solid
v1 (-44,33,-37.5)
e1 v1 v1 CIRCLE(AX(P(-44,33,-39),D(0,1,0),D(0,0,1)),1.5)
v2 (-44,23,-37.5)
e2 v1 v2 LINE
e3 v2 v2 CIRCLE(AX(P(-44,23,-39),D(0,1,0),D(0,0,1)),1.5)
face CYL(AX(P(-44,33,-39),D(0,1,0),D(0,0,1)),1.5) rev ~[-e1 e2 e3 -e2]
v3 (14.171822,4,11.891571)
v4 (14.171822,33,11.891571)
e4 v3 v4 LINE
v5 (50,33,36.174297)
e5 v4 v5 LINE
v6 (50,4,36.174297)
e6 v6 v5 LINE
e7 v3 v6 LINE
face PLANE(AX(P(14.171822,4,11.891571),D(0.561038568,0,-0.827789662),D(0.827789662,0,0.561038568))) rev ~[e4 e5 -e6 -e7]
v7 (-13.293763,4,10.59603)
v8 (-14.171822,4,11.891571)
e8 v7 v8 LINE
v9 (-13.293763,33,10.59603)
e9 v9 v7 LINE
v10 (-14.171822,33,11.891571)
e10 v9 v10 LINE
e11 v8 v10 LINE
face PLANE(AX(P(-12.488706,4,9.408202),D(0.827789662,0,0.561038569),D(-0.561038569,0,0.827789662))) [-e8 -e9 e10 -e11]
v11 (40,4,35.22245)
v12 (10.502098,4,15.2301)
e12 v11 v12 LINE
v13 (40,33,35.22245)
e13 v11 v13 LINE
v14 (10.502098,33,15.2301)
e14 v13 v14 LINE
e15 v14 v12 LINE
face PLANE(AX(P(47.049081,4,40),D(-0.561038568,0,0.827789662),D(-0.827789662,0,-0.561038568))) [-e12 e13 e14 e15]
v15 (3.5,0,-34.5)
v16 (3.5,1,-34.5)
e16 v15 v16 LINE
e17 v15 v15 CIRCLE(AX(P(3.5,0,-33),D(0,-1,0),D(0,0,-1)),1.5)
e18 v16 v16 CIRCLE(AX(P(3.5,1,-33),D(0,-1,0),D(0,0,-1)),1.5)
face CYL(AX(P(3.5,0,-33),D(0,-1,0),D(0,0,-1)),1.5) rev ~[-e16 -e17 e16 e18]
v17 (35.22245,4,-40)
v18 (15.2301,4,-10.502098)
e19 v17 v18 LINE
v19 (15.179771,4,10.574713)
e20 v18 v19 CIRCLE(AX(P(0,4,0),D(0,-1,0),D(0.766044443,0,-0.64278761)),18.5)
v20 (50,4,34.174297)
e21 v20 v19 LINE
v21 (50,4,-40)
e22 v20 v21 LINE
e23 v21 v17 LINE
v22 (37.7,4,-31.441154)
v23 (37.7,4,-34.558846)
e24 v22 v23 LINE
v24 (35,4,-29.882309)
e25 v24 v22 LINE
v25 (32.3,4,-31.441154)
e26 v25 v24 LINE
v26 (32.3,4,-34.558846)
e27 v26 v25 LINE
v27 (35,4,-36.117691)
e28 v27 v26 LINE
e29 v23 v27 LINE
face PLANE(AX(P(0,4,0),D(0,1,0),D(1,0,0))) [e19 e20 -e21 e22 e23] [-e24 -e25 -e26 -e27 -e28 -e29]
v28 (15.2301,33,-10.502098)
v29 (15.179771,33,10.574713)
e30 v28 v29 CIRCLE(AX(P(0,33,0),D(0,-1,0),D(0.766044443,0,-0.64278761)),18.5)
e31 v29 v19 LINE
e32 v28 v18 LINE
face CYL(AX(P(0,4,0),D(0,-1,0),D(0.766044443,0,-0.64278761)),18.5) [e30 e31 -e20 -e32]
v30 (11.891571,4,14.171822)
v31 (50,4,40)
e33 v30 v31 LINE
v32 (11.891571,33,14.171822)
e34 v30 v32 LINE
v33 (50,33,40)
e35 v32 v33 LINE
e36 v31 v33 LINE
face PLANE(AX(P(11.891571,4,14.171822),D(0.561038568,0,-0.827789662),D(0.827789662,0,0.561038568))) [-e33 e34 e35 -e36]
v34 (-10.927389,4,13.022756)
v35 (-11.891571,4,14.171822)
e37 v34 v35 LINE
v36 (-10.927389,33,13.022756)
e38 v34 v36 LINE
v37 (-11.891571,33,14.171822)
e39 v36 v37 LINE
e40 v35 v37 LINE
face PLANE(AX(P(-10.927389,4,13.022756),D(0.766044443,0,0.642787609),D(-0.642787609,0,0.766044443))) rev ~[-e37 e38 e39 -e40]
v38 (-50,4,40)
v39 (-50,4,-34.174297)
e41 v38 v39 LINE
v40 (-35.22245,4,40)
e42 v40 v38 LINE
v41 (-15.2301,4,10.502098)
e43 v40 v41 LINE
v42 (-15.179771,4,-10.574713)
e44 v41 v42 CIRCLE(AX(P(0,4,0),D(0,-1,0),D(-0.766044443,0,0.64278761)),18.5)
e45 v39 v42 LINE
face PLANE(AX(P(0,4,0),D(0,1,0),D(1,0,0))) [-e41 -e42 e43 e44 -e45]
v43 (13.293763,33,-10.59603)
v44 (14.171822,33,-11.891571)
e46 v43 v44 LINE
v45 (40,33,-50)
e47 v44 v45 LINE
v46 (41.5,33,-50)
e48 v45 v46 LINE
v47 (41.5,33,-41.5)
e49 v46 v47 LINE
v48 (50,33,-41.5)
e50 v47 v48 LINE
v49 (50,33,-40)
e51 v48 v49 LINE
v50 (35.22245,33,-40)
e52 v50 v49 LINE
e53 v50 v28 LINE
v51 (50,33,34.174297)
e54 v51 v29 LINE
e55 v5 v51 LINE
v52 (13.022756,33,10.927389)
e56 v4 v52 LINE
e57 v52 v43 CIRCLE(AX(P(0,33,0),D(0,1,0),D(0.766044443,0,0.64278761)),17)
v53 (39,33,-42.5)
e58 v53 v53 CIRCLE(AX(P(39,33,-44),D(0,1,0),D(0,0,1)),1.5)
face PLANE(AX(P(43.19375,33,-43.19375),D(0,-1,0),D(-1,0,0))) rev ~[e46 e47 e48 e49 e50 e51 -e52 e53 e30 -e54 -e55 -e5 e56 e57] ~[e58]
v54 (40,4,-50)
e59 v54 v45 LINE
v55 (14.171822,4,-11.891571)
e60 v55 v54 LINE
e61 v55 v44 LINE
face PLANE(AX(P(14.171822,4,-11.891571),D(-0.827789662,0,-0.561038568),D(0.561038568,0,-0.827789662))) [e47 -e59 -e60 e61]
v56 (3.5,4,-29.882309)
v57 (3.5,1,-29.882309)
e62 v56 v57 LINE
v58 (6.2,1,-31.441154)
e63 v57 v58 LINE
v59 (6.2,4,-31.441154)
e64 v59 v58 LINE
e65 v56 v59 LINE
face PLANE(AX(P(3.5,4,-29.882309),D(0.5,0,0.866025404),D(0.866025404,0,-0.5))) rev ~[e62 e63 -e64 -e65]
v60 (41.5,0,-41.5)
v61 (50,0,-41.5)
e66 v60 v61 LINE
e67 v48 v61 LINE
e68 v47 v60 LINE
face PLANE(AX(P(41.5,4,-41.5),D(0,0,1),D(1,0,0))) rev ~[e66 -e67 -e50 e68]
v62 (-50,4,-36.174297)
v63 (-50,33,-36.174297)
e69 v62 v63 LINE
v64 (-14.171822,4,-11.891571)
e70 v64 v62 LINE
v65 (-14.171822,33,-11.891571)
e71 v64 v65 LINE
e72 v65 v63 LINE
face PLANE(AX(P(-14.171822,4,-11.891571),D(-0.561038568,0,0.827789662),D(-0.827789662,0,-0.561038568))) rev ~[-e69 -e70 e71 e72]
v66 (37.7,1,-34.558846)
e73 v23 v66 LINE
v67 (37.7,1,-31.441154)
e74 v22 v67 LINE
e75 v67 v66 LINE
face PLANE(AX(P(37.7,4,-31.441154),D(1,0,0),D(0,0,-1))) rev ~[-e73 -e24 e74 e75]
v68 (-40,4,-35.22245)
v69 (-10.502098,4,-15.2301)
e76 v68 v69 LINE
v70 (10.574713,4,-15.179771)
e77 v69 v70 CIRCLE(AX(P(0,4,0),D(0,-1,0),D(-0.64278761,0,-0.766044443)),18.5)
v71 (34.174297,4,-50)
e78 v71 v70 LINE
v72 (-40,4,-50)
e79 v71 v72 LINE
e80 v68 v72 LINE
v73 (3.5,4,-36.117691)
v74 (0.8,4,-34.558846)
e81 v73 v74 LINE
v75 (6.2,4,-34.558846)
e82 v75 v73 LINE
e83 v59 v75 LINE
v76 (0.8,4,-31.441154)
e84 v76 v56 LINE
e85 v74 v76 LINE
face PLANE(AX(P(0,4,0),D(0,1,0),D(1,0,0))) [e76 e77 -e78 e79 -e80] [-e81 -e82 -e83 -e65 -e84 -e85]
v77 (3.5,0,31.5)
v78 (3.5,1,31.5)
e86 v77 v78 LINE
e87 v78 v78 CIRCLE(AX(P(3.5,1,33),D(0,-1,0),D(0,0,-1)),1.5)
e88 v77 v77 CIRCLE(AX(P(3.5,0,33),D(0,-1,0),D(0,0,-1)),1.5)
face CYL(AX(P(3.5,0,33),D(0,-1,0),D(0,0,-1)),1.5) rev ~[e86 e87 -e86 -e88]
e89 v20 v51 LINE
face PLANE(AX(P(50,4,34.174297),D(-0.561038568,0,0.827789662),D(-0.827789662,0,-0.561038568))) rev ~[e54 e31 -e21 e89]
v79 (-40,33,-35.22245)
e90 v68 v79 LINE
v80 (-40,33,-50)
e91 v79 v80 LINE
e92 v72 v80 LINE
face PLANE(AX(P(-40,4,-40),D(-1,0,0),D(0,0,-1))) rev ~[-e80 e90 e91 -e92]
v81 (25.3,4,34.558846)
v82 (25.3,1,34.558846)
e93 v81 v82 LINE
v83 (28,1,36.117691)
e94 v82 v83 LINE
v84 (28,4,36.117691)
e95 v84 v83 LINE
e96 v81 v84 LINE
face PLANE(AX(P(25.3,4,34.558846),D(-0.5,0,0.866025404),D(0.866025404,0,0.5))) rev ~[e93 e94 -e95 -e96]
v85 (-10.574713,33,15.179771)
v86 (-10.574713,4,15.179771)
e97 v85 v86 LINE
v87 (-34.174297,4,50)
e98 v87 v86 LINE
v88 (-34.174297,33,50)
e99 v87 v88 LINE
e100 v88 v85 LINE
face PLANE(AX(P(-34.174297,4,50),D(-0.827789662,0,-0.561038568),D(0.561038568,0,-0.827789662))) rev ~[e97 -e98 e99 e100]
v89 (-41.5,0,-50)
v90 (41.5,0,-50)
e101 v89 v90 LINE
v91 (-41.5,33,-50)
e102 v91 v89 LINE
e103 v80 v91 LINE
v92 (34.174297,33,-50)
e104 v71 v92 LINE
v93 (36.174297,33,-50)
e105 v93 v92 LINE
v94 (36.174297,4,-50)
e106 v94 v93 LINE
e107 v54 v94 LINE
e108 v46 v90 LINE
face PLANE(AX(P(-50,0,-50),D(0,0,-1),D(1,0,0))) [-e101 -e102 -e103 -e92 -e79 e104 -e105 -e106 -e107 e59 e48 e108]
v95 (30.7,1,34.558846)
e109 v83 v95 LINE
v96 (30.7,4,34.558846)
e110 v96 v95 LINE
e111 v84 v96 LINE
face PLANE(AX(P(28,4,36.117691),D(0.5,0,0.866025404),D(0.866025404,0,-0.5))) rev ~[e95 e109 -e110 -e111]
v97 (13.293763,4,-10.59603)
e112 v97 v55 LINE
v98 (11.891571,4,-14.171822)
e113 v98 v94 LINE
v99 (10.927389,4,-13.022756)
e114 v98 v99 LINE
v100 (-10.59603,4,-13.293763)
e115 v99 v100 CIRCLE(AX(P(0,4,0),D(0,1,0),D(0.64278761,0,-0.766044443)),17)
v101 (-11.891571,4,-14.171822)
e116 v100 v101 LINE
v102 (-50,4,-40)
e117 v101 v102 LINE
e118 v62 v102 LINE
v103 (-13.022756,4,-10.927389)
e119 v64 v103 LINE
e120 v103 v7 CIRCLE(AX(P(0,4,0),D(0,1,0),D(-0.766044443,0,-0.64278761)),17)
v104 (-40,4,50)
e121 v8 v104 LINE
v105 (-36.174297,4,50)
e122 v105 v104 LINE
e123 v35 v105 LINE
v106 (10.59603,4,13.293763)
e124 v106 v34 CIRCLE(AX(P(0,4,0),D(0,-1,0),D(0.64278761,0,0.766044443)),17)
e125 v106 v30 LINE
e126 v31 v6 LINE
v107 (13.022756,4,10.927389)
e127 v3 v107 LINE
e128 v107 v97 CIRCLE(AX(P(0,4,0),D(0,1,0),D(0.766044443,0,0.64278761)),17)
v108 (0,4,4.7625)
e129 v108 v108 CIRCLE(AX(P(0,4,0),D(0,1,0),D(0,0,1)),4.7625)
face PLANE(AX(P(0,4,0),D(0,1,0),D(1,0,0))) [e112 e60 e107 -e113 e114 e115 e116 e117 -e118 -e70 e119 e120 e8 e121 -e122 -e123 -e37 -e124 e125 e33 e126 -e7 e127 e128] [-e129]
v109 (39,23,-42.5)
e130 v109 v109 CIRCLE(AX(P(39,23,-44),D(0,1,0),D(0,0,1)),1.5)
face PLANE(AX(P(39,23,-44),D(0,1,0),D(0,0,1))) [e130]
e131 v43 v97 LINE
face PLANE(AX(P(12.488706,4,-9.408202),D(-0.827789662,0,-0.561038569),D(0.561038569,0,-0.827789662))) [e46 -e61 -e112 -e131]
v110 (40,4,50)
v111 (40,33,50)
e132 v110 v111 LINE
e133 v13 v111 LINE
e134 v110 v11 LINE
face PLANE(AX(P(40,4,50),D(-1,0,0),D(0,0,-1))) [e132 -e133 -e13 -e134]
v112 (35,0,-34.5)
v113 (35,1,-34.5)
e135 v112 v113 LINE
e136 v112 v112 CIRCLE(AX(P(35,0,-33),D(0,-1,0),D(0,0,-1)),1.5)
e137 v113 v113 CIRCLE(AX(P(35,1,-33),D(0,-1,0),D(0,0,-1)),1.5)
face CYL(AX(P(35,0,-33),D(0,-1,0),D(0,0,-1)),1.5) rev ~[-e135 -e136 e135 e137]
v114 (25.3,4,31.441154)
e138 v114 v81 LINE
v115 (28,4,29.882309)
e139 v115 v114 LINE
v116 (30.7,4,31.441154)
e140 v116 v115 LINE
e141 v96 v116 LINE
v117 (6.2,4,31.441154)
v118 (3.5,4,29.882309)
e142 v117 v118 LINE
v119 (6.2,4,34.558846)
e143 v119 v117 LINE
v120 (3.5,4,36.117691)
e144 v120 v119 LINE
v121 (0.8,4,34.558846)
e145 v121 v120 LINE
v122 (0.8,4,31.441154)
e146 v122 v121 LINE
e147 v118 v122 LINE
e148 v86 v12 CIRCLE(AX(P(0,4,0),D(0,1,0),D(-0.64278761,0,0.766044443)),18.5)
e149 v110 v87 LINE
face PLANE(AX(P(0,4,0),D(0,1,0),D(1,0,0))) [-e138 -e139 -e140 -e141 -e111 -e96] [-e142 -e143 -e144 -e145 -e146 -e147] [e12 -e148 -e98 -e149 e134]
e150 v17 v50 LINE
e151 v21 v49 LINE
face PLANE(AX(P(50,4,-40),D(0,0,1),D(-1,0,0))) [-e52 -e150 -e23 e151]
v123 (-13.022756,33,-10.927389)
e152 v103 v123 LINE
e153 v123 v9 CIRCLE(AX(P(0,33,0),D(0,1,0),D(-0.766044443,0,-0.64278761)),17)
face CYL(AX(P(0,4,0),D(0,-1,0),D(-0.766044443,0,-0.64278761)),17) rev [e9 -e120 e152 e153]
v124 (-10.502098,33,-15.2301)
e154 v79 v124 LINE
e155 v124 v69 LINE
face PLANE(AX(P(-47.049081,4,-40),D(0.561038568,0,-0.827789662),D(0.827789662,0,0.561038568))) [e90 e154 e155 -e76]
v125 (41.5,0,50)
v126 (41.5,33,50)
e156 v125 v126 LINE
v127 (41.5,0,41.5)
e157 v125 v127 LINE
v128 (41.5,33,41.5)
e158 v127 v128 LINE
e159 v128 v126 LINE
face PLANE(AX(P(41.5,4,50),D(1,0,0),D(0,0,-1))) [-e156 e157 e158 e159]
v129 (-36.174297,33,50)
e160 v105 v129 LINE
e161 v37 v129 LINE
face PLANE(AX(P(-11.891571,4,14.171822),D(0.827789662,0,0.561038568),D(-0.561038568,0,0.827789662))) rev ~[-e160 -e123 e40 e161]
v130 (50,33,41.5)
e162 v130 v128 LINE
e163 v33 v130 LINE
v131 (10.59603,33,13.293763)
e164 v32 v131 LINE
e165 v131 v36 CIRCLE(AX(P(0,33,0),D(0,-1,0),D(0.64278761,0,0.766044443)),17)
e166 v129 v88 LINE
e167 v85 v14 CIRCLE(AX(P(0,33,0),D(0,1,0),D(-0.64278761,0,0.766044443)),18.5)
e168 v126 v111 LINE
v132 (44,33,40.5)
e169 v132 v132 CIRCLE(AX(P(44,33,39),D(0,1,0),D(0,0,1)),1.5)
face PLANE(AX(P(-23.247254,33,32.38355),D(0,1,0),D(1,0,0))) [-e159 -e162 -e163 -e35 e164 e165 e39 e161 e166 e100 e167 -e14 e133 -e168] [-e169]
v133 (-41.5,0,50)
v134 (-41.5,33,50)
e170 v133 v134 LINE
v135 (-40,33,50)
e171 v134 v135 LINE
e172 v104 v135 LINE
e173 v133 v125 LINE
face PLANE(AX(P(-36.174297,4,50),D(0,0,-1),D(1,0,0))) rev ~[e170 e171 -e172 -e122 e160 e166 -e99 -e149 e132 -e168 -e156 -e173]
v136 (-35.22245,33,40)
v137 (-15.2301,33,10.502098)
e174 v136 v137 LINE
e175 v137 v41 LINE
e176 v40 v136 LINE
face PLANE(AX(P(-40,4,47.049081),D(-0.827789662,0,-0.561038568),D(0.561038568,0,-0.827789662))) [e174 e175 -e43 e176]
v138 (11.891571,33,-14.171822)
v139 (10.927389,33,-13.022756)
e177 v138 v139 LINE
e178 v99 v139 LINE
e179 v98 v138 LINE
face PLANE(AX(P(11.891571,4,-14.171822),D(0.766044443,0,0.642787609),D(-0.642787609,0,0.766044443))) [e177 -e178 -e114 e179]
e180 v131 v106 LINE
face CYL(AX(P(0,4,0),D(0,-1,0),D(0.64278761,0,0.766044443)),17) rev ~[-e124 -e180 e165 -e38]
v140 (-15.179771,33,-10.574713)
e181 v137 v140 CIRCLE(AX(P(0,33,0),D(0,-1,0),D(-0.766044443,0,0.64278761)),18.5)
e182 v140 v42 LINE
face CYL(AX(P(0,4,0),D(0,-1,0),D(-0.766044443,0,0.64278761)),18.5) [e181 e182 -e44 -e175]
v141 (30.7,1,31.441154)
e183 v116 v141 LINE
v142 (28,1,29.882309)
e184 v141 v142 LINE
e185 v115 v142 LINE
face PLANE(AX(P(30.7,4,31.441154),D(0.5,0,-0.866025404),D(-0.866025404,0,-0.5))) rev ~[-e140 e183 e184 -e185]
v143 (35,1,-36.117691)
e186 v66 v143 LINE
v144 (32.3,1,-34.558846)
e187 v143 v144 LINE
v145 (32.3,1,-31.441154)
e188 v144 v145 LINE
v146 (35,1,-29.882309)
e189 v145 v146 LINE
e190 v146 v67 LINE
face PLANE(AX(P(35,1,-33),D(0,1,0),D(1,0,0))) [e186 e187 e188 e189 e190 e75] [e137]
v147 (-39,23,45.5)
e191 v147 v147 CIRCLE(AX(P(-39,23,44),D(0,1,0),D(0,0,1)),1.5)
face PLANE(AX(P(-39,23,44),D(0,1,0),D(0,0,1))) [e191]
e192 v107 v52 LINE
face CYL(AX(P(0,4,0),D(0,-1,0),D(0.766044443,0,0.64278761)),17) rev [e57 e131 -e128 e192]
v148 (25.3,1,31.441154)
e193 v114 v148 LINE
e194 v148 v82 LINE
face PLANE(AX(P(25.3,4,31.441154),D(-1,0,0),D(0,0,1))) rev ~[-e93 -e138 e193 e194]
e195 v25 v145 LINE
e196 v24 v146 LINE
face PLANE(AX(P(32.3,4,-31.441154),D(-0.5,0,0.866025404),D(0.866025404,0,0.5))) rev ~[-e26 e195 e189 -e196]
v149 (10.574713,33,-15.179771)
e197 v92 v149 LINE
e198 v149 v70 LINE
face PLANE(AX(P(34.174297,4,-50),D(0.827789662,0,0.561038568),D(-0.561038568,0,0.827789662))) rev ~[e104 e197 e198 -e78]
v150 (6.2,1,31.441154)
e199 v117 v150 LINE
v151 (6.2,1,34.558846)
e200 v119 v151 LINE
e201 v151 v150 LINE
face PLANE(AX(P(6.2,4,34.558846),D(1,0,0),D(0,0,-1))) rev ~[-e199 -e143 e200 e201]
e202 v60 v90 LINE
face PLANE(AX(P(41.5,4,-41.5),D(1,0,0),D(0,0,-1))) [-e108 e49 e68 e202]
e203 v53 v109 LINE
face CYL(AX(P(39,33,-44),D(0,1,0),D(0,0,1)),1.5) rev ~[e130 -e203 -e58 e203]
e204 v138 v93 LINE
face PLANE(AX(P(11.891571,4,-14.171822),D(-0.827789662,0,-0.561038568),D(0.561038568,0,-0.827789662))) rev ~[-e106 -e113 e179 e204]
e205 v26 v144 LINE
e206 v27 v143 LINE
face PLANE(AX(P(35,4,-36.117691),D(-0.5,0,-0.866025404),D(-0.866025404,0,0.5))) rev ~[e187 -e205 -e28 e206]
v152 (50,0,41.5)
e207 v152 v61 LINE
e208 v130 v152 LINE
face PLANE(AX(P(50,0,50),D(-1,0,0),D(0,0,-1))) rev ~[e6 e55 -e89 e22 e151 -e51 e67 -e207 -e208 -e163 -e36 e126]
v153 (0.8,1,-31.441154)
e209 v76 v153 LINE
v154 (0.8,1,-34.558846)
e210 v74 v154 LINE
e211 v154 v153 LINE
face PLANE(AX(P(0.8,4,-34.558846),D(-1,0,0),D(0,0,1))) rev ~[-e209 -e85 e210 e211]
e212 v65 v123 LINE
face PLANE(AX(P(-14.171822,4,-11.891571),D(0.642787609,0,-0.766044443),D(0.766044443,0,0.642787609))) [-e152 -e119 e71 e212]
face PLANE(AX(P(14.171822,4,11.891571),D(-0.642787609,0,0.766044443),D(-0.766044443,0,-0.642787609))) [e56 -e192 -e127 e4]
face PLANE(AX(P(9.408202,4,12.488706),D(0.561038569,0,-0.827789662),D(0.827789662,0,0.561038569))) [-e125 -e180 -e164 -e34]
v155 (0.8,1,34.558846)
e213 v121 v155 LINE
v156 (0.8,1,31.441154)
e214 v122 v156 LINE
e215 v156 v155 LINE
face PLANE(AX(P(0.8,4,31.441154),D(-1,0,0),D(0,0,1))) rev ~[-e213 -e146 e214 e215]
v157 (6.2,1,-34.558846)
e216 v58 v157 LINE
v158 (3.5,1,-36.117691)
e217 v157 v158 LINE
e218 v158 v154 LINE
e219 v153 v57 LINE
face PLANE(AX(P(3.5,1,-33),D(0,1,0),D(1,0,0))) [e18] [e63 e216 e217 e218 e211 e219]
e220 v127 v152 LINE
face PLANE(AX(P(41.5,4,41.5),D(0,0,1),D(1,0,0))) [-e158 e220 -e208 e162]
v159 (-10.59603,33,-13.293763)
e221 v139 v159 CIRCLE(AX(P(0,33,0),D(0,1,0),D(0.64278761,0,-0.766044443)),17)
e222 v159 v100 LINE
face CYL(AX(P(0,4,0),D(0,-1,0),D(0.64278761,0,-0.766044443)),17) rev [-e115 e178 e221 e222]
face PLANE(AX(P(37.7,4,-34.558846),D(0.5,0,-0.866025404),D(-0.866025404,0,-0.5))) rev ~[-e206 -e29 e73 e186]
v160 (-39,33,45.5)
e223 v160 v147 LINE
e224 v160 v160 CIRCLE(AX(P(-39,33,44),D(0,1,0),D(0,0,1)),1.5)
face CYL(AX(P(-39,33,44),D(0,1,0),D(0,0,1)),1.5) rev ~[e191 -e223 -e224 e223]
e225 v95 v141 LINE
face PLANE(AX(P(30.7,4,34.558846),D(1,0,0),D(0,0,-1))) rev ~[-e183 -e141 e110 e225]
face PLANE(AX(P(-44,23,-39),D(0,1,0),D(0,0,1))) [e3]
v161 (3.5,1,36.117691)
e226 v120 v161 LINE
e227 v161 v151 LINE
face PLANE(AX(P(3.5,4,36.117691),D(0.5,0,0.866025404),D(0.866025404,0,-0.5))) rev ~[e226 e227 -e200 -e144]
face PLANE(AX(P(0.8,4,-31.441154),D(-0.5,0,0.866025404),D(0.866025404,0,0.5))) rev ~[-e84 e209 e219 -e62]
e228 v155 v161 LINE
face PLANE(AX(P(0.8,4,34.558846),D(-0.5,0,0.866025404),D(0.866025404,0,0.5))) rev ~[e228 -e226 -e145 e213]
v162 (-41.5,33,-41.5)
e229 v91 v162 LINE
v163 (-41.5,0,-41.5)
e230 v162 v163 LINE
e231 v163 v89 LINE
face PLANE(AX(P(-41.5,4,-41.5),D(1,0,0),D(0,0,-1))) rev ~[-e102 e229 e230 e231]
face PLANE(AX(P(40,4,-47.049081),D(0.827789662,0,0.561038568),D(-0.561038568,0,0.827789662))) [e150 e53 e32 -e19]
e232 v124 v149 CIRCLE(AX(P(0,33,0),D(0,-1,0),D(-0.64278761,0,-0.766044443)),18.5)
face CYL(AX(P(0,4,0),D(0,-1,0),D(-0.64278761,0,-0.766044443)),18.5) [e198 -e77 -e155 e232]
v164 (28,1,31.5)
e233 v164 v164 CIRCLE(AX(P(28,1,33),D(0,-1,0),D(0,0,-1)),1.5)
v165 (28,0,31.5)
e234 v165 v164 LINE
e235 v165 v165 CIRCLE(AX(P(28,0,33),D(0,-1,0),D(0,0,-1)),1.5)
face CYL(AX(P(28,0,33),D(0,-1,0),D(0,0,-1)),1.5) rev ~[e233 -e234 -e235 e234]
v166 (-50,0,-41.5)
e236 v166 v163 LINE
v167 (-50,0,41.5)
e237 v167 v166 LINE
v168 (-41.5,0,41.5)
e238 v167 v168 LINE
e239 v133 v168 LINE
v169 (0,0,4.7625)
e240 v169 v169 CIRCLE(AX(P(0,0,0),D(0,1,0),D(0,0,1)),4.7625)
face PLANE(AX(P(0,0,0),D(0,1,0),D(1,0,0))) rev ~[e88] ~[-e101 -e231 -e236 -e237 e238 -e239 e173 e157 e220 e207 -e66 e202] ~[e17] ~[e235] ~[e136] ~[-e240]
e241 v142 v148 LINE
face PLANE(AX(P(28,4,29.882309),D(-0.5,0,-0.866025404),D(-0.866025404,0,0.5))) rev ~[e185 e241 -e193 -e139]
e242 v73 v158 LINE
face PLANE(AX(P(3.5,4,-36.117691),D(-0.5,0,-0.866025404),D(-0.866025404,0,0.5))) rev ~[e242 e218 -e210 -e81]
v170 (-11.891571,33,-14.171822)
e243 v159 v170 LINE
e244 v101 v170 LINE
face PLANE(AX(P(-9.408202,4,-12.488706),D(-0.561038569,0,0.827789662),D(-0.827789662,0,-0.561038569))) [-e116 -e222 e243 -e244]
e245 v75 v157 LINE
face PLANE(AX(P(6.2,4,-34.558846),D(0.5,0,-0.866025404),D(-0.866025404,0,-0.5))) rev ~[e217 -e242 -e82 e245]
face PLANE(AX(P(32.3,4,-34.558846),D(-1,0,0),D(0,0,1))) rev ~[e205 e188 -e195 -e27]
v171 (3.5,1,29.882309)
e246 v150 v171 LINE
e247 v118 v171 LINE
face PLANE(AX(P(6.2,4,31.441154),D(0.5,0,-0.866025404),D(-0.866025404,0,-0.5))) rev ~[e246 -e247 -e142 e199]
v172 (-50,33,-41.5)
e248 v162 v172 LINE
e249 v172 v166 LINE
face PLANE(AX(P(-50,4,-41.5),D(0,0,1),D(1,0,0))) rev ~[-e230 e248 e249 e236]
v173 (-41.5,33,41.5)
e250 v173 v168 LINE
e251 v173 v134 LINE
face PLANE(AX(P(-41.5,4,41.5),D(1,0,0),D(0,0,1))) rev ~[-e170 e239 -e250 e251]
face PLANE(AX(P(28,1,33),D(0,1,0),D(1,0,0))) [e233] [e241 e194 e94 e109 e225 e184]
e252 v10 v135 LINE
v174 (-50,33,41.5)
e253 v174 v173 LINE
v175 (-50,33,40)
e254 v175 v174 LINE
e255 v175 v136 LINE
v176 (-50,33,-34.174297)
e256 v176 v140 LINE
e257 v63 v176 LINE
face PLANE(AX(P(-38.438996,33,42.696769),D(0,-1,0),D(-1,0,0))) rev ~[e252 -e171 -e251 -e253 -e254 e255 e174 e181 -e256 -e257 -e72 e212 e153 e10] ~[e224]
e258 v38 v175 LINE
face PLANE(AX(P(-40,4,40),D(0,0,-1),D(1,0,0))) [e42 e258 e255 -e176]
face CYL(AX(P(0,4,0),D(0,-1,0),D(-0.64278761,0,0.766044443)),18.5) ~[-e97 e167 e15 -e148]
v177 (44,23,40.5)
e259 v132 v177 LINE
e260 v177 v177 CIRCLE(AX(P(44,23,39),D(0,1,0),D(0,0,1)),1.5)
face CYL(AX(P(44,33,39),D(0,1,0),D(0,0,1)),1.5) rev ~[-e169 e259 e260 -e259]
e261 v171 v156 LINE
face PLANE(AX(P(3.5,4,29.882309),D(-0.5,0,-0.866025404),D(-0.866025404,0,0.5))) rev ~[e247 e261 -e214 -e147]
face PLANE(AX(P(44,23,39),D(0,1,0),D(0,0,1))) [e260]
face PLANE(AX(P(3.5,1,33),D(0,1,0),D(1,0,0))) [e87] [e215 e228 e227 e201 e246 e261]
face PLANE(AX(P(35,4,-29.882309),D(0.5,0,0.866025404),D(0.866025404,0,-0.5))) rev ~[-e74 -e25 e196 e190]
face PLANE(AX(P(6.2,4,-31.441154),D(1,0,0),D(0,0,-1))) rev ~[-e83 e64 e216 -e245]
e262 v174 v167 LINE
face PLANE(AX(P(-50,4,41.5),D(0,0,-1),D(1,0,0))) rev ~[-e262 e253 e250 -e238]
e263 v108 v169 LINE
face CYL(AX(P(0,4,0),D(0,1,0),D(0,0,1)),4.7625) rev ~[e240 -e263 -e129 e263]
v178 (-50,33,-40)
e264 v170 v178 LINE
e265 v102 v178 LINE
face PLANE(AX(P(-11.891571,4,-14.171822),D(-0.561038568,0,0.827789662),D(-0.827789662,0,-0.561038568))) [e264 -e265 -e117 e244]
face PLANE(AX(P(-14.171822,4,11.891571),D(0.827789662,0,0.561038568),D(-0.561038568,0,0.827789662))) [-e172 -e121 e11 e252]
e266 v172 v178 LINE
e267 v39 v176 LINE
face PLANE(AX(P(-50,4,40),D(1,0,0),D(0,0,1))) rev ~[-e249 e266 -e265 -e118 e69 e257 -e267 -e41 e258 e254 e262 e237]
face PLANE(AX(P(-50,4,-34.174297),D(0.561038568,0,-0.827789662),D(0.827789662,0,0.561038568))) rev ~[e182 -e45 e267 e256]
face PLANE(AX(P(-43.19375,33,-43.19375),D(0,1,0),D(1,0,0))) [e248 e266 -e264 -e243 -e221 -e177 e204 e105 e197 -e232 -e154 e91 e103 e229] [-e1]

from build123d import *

# Parameters (mm, degrees)
SKETCH1_W           = 100
SKETCH1_H           = 100
BOSS_EXTRUDE1_DEPTH = 4
SKETCH2_R           = 4.7625
CUT_EXTRUDE1_DEPTH  = 71.823724839
SKETCH3_W           = 8.5
SKETCH3_H           = 8.5
CUT_EXTRUDE2_DEPTH  = 71.823724839
BOSS_EXTRUDE3_DEPTH = 29
BOSS_EXTRUDE4_DEPTH = 29
CUT_EXTRUDE4_DEPTH  = 77.426435217
BOSS_EXTRUDE5_DEPTH = 29
BOSS_EXTRUDE6_DEPTH = 29
SKETCH12_R          = 1.5
CUT_EXTRUDE5_DEPTH  = 79.0320447
CUT_EXTRUDE6_DEPTH  = 3
SKETCH15_R          = 1.5
CUT_EXTRUDE7_DEPTH  = 10


with BuildPart() as part:
    # Sketch1 → Boss-Extrude1 (new body)
    with BuildSketch(Plane(origin=(0, 0, 0), x_dir=(1, 0, 0), z_dir=(0, 1, 0))):
        Rectangle(SKETCH1_W, SKETCH1_H)
    extrude(amount=BOSS_EXTRUDE1_DEPTH)

    # Sketch2 → Cut-Extrude1 (cut, through all)
    with BuildSketch(Plane(origin=(0, 4, 0), x_dir=(1, 0, 0), z_dir=(0, 1, 0))):
        with Locations(Location((0, 0, 0), (0, 0, 270))):
            Circle(SKETCH2_R)
    extrude(amount=-CUT_EXTRUDE1_DEPTH, mode=Mode.SUBTRACT)

    # Sketch3 → Cut-Extrude2 (cut, through all)
    with BuildSketch(Plane(origin=(0, 4, 0), x_dir=(1, 0, 0), z_dir=(0, 1, 0))):
        with Locations((-45.75, 45.75)):
            Rectangle(SKETCH3_W, SKETCH3_H)
        with Locations((45.75, 45.75)):
            Rectangle(SKETCH3_W, SKETCH3_H)
        with Locations((45.75, -45.75)):
            Rectangle(SKETCH3_W, SKETCH3_H)
        with Locations((-45.75, -45.75)):
            Rectangle(SKETCH3_W, SKETCH3_H)
    extrude(amount=-CUT_EXTRUDE2_DEPTH, mode=Mode.SUBTRACT)

    # Sketch4 → Boss-Extrude3 (add)
    with BuildSketch(Plane(origin=(0, 4, 0), x_dir=(1, 0, 0), z_dir=(0, 1, 0))):
        with BuildLine():
            Line((-10.927389365, -13.022755533), (-11.891570779, -14.171822198))
            ThreePointArc((-11.891570779, -14.171822198), (0, -18.5), (11.891570779, -14.171822198))
            Line((11.891570779, -14.171822198), (10.927389365, -13.022755533))
            ThreePointArc((10.927389365, -13.022755533), (0, -17), (-10.927389365, -13.022755533))
        make_face()
        with BuildLine():
            Line((-13.022755533, -10.927389365), (-14.171822198, -11.891570779))
            ThreePointArc((-14.171822198, -11.891570779), (-18.5, 0), (-14.171822198, 11.891570779))
            Line((-14.171822198, 11.891570779), (-13.022755533, 10.927389365))
            ThreePointArc((-13.022755533, 10.927389365), (-17, 0), (-13.022755533, -10.927389365))
        make_face()
        with BuildLine():
            Line((-10.927389365, 13.022755533), (-11.891570779, 14.171822198))
            ThreePointArc((-11.891570779, 14.171822198), (0, 18.5), (11.891570779, 14.171822198))
            Line((11.891570779, 14.171822198), (10.927389365, 13.022755533))
            ThreePointArc((10.927389365, 13.022755533), (0, 17), (-10.927389365, 13.022755533))
        make_face()
        with BuildLine():
            Line((13.022755533, 10.927389365), (14.171822198, 11.891570779))
            ThreePointArc((14.171822198, 11.891570779), (18.5, 0), (14.171822198, -11.891570779))
            Line((14.171822198, -11.891570779), (13.022755533, -10.927389365))
            ThreePointArc((13.022755533, -10.927389365), (17, 0), (13.022755533, 10.927389365))
        make_face()
    extrude(amount=BOSS_EXTRUDE3_DEPTH)

    # Sketch7 → Boss-Extrude4 (add)
    with BuildSketch(Plane(origin=(0, 4, 0), x_dir=(1, 0, 0), z_dir=(0, 1, 0))):
        Polygon((-41.5, -41.5), (-41.5, -50), (-40, -50), (-40, -40), (-50, -40), (-50, -41.5), align=None)
        Polygon((40, -50), (40, -40), (50, -40), (50, -41.5), (41.5, -41.5), (41.5, -50), align=None)
        Polygon((50, 41.5), (50, 40), (40, 40), (40, 50), (41.5, 50), (41.5, 41.5), align=None)
        Polygon((-50, 41.5), (-50, 40), (-40, 40), (-40, 50), (-41.5, 50), (-41.5, 41.5), align=None)
    extrude(amount=BOSS_EXTRUDE4_DEPTH)

    # Sketch8 → Cut-Extrude4 (cut, through all)
    with BuildSketch(Plane(origin=(0, 4, 0), x_dir=(1, 0, 0), z_dir=(0, 1, 0))):
        Polygon((-14.171822198, -11.891570779), (-40, -50), (-36.17429682, -50), (-11.891570779, -14.171822198), (-9.867198001, -11.184942236), (-12.488706492, -9.408201793), align=None)
        Polygon((-11.891570779, 14.171822198), (-50, 40), (-50, 36.17429682), (-14.171822198, 11.891570779), (-11.184942236, 9.867198001), (-9.408201793, 12.488706492), align=None)
        Polygon((14.171822198, 11.891570779), (40, 50), (36.17429682, 50), (11.891570779, 14.171822198), (9.867198001, 11.184942236), (12.488706492, 9.408201793), align=None)
        Polygon((11.891570779, -14.171822198), (50, -40), (50, -36.17429682), (14.171822198, -11.891570779), (11.184942236, -9.867198001), (9.408201793, -12.488706492), align=None)
    extrude(amount=CUT_EXTRUDE4_DEPTH, mode=Mode.SUBTRACT)

    # Sketch9 → Boss-Extrude5 (add)
    with BuildSketch(Plane(origin=(0, 4, 0), x_dir=(1, 0, 0), z_dir=(0, 1, 0))):
        Polygon((-11.891570779, -14.171822198), (-36.17429682, -50), (-34.17429682, -50), (-10.52109933, -15.100666052), align=None)
        Polygon((-14.171822198, -11.891570779), (-40, -50), (-40, -47.049081084), (-14.981255079, -10.134937263), (-13.610783629, -11.063781117), align=None)
        Polygon((-50, 34.17429682), (-15.100666052, 10.52109933), (-14.171822198, 11.891570779), (-50, 36.17429682), align=None)
        Polygon((-11.891570779, 14.171822198), (-50, 40), (-47.049081084, 40), (-10.134937263, 14.981255079), (-11.063781117, 13.610783629), align=None)
        Polygon((34.17429682, 50), (10.52109933, 15.100666052), (11.891570779, 14.171822198), (36.17429682, 50), align=None)
        Polygon((14.171822198, 11.891570779), (40, 50), (40, 47.049081084), (14.981255079, 10.134937263), (13.610783629, 11.063781117), align=None)
        Polygon((50, -34.17429682), (15.100666052, -10.52109933), (14.171822198, -11.891570779), (50, -36.17429682), align=None)
        Polygon((11.891570779, -14.171822198), (50, -40), (47.049081084, -40), (10.134937263, -14.981255079), (11.063781117, -13.610783629), align=None)
    extrude(amount=BOSS_EXTRUDE5_DEPTH)

    # Sketch11 → Boss-Extrude6 (add)
    with BuildSketch(Plane(origin=(0, 4, 0), x_dir=(1, 0, 0), z_dir=(0, 1, 0))):
        Polygon((-40, -40), (-35.222450169, -40), (-40, -47.049081084), align=None)
        Polygon((-40, 40), (-40, 35.222450169), (-47.049081084, 40), align=None)
        Polygon((40, 40), (35.222450169, 40), (40, 47.049081084), align=None)
        Polygon((40, -40), (40, -35.222450169), (47.049081084, -40), align=None)
    extrude(amount=BOSS_EXTRUDE6_DEPTH)

    # Sketch12 → Cut-Extrude5 (cut, through all)
    with BuildSketch(Plane(origin=(0, 0, 0), x_dir=(-1, 0, 0), z_dir=(0, -1, 0))):
        with Locations(Location((-3.5, 33, 0), (0, 0, 90))):
            Circle(SKETCH12_R)
        with Locations(Location((-3.5, -33, 0), (0, 0, 90))):
            Circle(SKETCH12_R)
        with Locations(Location((-35, 33, 0), (0, 0, 90))):
            Circle(SKETCH12_R)
        with Locations(Location((-28, -33, 0), (0, 0, 90))):
            Circle(SKETCH12_R)
    extrude(amount=-CUT_EXTRUDE5_DEPTH, mode=Mode.SUBTRACT)

    # Sketch14 → Cut-Extrude6 (cut)
    with BuildSketch(Plane(origin=(0, 4, 0), x_dir=(1, 0, 0), z_dir=(0, 1, 0))):
        Polygon((28, -29.882308546), (25.3, -31.441154273), (25.3, -34.558845727), (28, -36.117691454), (30.7, -34.558845727), (30.7, -31.441154273), align=None)
        Polygon((3.5, -29.882308546), (0.8, -31.441154273), (0.8, -34.558845727), (3.5, -36.117691454), (6.2, -34.558845727), (6.2, -31.441154273), align=None)
        Polygon((3.5, 36.117691454), (0.8, 34.558845727), (0.8, 31.441154273), (3.5, 29.882308546), (6.2, 31.441154273), (6.2, 34.558845727), align=None)
        Polygon((35, 36.117691454), (32.3, 34.558845727), (32.3, 31.441154273), (35, 29.882308546), (37.7, 31.441154273), (37.7, 34.558845727), align=None)
    extrude(amount=-CUT_EXTRUDE6_DEPTH, mode=Mode.SUBTRACT)

    # Sketch15 → Cut-Extrude7 (cut)
    with BuildSketch(Plane(origin=(0, 33, 0), x_dir=(1, 0, 0), z_dir=(0, 1, 0))):
        with Locations(Location((44, -39, 0), (0, 0, 270))):
            Circle(SKETCH15_R)
        with Locations(Location((-39, -44, 0), (0, 0, 270))):
            Circle(SKETCH15_R)
        with Locations(Location((-44, 39, 0), (0, 0, 270))):
            Circle(SKETCH15_R)
        with Locations(Location((39, 44, 0), (0, 0, 270))):
            Circle(SKETCH15_R)
    extrude(amount=-CUT_EXTRUDE7_DEPTH, mode=Mode.SUBTRACT)


solid = part.part
